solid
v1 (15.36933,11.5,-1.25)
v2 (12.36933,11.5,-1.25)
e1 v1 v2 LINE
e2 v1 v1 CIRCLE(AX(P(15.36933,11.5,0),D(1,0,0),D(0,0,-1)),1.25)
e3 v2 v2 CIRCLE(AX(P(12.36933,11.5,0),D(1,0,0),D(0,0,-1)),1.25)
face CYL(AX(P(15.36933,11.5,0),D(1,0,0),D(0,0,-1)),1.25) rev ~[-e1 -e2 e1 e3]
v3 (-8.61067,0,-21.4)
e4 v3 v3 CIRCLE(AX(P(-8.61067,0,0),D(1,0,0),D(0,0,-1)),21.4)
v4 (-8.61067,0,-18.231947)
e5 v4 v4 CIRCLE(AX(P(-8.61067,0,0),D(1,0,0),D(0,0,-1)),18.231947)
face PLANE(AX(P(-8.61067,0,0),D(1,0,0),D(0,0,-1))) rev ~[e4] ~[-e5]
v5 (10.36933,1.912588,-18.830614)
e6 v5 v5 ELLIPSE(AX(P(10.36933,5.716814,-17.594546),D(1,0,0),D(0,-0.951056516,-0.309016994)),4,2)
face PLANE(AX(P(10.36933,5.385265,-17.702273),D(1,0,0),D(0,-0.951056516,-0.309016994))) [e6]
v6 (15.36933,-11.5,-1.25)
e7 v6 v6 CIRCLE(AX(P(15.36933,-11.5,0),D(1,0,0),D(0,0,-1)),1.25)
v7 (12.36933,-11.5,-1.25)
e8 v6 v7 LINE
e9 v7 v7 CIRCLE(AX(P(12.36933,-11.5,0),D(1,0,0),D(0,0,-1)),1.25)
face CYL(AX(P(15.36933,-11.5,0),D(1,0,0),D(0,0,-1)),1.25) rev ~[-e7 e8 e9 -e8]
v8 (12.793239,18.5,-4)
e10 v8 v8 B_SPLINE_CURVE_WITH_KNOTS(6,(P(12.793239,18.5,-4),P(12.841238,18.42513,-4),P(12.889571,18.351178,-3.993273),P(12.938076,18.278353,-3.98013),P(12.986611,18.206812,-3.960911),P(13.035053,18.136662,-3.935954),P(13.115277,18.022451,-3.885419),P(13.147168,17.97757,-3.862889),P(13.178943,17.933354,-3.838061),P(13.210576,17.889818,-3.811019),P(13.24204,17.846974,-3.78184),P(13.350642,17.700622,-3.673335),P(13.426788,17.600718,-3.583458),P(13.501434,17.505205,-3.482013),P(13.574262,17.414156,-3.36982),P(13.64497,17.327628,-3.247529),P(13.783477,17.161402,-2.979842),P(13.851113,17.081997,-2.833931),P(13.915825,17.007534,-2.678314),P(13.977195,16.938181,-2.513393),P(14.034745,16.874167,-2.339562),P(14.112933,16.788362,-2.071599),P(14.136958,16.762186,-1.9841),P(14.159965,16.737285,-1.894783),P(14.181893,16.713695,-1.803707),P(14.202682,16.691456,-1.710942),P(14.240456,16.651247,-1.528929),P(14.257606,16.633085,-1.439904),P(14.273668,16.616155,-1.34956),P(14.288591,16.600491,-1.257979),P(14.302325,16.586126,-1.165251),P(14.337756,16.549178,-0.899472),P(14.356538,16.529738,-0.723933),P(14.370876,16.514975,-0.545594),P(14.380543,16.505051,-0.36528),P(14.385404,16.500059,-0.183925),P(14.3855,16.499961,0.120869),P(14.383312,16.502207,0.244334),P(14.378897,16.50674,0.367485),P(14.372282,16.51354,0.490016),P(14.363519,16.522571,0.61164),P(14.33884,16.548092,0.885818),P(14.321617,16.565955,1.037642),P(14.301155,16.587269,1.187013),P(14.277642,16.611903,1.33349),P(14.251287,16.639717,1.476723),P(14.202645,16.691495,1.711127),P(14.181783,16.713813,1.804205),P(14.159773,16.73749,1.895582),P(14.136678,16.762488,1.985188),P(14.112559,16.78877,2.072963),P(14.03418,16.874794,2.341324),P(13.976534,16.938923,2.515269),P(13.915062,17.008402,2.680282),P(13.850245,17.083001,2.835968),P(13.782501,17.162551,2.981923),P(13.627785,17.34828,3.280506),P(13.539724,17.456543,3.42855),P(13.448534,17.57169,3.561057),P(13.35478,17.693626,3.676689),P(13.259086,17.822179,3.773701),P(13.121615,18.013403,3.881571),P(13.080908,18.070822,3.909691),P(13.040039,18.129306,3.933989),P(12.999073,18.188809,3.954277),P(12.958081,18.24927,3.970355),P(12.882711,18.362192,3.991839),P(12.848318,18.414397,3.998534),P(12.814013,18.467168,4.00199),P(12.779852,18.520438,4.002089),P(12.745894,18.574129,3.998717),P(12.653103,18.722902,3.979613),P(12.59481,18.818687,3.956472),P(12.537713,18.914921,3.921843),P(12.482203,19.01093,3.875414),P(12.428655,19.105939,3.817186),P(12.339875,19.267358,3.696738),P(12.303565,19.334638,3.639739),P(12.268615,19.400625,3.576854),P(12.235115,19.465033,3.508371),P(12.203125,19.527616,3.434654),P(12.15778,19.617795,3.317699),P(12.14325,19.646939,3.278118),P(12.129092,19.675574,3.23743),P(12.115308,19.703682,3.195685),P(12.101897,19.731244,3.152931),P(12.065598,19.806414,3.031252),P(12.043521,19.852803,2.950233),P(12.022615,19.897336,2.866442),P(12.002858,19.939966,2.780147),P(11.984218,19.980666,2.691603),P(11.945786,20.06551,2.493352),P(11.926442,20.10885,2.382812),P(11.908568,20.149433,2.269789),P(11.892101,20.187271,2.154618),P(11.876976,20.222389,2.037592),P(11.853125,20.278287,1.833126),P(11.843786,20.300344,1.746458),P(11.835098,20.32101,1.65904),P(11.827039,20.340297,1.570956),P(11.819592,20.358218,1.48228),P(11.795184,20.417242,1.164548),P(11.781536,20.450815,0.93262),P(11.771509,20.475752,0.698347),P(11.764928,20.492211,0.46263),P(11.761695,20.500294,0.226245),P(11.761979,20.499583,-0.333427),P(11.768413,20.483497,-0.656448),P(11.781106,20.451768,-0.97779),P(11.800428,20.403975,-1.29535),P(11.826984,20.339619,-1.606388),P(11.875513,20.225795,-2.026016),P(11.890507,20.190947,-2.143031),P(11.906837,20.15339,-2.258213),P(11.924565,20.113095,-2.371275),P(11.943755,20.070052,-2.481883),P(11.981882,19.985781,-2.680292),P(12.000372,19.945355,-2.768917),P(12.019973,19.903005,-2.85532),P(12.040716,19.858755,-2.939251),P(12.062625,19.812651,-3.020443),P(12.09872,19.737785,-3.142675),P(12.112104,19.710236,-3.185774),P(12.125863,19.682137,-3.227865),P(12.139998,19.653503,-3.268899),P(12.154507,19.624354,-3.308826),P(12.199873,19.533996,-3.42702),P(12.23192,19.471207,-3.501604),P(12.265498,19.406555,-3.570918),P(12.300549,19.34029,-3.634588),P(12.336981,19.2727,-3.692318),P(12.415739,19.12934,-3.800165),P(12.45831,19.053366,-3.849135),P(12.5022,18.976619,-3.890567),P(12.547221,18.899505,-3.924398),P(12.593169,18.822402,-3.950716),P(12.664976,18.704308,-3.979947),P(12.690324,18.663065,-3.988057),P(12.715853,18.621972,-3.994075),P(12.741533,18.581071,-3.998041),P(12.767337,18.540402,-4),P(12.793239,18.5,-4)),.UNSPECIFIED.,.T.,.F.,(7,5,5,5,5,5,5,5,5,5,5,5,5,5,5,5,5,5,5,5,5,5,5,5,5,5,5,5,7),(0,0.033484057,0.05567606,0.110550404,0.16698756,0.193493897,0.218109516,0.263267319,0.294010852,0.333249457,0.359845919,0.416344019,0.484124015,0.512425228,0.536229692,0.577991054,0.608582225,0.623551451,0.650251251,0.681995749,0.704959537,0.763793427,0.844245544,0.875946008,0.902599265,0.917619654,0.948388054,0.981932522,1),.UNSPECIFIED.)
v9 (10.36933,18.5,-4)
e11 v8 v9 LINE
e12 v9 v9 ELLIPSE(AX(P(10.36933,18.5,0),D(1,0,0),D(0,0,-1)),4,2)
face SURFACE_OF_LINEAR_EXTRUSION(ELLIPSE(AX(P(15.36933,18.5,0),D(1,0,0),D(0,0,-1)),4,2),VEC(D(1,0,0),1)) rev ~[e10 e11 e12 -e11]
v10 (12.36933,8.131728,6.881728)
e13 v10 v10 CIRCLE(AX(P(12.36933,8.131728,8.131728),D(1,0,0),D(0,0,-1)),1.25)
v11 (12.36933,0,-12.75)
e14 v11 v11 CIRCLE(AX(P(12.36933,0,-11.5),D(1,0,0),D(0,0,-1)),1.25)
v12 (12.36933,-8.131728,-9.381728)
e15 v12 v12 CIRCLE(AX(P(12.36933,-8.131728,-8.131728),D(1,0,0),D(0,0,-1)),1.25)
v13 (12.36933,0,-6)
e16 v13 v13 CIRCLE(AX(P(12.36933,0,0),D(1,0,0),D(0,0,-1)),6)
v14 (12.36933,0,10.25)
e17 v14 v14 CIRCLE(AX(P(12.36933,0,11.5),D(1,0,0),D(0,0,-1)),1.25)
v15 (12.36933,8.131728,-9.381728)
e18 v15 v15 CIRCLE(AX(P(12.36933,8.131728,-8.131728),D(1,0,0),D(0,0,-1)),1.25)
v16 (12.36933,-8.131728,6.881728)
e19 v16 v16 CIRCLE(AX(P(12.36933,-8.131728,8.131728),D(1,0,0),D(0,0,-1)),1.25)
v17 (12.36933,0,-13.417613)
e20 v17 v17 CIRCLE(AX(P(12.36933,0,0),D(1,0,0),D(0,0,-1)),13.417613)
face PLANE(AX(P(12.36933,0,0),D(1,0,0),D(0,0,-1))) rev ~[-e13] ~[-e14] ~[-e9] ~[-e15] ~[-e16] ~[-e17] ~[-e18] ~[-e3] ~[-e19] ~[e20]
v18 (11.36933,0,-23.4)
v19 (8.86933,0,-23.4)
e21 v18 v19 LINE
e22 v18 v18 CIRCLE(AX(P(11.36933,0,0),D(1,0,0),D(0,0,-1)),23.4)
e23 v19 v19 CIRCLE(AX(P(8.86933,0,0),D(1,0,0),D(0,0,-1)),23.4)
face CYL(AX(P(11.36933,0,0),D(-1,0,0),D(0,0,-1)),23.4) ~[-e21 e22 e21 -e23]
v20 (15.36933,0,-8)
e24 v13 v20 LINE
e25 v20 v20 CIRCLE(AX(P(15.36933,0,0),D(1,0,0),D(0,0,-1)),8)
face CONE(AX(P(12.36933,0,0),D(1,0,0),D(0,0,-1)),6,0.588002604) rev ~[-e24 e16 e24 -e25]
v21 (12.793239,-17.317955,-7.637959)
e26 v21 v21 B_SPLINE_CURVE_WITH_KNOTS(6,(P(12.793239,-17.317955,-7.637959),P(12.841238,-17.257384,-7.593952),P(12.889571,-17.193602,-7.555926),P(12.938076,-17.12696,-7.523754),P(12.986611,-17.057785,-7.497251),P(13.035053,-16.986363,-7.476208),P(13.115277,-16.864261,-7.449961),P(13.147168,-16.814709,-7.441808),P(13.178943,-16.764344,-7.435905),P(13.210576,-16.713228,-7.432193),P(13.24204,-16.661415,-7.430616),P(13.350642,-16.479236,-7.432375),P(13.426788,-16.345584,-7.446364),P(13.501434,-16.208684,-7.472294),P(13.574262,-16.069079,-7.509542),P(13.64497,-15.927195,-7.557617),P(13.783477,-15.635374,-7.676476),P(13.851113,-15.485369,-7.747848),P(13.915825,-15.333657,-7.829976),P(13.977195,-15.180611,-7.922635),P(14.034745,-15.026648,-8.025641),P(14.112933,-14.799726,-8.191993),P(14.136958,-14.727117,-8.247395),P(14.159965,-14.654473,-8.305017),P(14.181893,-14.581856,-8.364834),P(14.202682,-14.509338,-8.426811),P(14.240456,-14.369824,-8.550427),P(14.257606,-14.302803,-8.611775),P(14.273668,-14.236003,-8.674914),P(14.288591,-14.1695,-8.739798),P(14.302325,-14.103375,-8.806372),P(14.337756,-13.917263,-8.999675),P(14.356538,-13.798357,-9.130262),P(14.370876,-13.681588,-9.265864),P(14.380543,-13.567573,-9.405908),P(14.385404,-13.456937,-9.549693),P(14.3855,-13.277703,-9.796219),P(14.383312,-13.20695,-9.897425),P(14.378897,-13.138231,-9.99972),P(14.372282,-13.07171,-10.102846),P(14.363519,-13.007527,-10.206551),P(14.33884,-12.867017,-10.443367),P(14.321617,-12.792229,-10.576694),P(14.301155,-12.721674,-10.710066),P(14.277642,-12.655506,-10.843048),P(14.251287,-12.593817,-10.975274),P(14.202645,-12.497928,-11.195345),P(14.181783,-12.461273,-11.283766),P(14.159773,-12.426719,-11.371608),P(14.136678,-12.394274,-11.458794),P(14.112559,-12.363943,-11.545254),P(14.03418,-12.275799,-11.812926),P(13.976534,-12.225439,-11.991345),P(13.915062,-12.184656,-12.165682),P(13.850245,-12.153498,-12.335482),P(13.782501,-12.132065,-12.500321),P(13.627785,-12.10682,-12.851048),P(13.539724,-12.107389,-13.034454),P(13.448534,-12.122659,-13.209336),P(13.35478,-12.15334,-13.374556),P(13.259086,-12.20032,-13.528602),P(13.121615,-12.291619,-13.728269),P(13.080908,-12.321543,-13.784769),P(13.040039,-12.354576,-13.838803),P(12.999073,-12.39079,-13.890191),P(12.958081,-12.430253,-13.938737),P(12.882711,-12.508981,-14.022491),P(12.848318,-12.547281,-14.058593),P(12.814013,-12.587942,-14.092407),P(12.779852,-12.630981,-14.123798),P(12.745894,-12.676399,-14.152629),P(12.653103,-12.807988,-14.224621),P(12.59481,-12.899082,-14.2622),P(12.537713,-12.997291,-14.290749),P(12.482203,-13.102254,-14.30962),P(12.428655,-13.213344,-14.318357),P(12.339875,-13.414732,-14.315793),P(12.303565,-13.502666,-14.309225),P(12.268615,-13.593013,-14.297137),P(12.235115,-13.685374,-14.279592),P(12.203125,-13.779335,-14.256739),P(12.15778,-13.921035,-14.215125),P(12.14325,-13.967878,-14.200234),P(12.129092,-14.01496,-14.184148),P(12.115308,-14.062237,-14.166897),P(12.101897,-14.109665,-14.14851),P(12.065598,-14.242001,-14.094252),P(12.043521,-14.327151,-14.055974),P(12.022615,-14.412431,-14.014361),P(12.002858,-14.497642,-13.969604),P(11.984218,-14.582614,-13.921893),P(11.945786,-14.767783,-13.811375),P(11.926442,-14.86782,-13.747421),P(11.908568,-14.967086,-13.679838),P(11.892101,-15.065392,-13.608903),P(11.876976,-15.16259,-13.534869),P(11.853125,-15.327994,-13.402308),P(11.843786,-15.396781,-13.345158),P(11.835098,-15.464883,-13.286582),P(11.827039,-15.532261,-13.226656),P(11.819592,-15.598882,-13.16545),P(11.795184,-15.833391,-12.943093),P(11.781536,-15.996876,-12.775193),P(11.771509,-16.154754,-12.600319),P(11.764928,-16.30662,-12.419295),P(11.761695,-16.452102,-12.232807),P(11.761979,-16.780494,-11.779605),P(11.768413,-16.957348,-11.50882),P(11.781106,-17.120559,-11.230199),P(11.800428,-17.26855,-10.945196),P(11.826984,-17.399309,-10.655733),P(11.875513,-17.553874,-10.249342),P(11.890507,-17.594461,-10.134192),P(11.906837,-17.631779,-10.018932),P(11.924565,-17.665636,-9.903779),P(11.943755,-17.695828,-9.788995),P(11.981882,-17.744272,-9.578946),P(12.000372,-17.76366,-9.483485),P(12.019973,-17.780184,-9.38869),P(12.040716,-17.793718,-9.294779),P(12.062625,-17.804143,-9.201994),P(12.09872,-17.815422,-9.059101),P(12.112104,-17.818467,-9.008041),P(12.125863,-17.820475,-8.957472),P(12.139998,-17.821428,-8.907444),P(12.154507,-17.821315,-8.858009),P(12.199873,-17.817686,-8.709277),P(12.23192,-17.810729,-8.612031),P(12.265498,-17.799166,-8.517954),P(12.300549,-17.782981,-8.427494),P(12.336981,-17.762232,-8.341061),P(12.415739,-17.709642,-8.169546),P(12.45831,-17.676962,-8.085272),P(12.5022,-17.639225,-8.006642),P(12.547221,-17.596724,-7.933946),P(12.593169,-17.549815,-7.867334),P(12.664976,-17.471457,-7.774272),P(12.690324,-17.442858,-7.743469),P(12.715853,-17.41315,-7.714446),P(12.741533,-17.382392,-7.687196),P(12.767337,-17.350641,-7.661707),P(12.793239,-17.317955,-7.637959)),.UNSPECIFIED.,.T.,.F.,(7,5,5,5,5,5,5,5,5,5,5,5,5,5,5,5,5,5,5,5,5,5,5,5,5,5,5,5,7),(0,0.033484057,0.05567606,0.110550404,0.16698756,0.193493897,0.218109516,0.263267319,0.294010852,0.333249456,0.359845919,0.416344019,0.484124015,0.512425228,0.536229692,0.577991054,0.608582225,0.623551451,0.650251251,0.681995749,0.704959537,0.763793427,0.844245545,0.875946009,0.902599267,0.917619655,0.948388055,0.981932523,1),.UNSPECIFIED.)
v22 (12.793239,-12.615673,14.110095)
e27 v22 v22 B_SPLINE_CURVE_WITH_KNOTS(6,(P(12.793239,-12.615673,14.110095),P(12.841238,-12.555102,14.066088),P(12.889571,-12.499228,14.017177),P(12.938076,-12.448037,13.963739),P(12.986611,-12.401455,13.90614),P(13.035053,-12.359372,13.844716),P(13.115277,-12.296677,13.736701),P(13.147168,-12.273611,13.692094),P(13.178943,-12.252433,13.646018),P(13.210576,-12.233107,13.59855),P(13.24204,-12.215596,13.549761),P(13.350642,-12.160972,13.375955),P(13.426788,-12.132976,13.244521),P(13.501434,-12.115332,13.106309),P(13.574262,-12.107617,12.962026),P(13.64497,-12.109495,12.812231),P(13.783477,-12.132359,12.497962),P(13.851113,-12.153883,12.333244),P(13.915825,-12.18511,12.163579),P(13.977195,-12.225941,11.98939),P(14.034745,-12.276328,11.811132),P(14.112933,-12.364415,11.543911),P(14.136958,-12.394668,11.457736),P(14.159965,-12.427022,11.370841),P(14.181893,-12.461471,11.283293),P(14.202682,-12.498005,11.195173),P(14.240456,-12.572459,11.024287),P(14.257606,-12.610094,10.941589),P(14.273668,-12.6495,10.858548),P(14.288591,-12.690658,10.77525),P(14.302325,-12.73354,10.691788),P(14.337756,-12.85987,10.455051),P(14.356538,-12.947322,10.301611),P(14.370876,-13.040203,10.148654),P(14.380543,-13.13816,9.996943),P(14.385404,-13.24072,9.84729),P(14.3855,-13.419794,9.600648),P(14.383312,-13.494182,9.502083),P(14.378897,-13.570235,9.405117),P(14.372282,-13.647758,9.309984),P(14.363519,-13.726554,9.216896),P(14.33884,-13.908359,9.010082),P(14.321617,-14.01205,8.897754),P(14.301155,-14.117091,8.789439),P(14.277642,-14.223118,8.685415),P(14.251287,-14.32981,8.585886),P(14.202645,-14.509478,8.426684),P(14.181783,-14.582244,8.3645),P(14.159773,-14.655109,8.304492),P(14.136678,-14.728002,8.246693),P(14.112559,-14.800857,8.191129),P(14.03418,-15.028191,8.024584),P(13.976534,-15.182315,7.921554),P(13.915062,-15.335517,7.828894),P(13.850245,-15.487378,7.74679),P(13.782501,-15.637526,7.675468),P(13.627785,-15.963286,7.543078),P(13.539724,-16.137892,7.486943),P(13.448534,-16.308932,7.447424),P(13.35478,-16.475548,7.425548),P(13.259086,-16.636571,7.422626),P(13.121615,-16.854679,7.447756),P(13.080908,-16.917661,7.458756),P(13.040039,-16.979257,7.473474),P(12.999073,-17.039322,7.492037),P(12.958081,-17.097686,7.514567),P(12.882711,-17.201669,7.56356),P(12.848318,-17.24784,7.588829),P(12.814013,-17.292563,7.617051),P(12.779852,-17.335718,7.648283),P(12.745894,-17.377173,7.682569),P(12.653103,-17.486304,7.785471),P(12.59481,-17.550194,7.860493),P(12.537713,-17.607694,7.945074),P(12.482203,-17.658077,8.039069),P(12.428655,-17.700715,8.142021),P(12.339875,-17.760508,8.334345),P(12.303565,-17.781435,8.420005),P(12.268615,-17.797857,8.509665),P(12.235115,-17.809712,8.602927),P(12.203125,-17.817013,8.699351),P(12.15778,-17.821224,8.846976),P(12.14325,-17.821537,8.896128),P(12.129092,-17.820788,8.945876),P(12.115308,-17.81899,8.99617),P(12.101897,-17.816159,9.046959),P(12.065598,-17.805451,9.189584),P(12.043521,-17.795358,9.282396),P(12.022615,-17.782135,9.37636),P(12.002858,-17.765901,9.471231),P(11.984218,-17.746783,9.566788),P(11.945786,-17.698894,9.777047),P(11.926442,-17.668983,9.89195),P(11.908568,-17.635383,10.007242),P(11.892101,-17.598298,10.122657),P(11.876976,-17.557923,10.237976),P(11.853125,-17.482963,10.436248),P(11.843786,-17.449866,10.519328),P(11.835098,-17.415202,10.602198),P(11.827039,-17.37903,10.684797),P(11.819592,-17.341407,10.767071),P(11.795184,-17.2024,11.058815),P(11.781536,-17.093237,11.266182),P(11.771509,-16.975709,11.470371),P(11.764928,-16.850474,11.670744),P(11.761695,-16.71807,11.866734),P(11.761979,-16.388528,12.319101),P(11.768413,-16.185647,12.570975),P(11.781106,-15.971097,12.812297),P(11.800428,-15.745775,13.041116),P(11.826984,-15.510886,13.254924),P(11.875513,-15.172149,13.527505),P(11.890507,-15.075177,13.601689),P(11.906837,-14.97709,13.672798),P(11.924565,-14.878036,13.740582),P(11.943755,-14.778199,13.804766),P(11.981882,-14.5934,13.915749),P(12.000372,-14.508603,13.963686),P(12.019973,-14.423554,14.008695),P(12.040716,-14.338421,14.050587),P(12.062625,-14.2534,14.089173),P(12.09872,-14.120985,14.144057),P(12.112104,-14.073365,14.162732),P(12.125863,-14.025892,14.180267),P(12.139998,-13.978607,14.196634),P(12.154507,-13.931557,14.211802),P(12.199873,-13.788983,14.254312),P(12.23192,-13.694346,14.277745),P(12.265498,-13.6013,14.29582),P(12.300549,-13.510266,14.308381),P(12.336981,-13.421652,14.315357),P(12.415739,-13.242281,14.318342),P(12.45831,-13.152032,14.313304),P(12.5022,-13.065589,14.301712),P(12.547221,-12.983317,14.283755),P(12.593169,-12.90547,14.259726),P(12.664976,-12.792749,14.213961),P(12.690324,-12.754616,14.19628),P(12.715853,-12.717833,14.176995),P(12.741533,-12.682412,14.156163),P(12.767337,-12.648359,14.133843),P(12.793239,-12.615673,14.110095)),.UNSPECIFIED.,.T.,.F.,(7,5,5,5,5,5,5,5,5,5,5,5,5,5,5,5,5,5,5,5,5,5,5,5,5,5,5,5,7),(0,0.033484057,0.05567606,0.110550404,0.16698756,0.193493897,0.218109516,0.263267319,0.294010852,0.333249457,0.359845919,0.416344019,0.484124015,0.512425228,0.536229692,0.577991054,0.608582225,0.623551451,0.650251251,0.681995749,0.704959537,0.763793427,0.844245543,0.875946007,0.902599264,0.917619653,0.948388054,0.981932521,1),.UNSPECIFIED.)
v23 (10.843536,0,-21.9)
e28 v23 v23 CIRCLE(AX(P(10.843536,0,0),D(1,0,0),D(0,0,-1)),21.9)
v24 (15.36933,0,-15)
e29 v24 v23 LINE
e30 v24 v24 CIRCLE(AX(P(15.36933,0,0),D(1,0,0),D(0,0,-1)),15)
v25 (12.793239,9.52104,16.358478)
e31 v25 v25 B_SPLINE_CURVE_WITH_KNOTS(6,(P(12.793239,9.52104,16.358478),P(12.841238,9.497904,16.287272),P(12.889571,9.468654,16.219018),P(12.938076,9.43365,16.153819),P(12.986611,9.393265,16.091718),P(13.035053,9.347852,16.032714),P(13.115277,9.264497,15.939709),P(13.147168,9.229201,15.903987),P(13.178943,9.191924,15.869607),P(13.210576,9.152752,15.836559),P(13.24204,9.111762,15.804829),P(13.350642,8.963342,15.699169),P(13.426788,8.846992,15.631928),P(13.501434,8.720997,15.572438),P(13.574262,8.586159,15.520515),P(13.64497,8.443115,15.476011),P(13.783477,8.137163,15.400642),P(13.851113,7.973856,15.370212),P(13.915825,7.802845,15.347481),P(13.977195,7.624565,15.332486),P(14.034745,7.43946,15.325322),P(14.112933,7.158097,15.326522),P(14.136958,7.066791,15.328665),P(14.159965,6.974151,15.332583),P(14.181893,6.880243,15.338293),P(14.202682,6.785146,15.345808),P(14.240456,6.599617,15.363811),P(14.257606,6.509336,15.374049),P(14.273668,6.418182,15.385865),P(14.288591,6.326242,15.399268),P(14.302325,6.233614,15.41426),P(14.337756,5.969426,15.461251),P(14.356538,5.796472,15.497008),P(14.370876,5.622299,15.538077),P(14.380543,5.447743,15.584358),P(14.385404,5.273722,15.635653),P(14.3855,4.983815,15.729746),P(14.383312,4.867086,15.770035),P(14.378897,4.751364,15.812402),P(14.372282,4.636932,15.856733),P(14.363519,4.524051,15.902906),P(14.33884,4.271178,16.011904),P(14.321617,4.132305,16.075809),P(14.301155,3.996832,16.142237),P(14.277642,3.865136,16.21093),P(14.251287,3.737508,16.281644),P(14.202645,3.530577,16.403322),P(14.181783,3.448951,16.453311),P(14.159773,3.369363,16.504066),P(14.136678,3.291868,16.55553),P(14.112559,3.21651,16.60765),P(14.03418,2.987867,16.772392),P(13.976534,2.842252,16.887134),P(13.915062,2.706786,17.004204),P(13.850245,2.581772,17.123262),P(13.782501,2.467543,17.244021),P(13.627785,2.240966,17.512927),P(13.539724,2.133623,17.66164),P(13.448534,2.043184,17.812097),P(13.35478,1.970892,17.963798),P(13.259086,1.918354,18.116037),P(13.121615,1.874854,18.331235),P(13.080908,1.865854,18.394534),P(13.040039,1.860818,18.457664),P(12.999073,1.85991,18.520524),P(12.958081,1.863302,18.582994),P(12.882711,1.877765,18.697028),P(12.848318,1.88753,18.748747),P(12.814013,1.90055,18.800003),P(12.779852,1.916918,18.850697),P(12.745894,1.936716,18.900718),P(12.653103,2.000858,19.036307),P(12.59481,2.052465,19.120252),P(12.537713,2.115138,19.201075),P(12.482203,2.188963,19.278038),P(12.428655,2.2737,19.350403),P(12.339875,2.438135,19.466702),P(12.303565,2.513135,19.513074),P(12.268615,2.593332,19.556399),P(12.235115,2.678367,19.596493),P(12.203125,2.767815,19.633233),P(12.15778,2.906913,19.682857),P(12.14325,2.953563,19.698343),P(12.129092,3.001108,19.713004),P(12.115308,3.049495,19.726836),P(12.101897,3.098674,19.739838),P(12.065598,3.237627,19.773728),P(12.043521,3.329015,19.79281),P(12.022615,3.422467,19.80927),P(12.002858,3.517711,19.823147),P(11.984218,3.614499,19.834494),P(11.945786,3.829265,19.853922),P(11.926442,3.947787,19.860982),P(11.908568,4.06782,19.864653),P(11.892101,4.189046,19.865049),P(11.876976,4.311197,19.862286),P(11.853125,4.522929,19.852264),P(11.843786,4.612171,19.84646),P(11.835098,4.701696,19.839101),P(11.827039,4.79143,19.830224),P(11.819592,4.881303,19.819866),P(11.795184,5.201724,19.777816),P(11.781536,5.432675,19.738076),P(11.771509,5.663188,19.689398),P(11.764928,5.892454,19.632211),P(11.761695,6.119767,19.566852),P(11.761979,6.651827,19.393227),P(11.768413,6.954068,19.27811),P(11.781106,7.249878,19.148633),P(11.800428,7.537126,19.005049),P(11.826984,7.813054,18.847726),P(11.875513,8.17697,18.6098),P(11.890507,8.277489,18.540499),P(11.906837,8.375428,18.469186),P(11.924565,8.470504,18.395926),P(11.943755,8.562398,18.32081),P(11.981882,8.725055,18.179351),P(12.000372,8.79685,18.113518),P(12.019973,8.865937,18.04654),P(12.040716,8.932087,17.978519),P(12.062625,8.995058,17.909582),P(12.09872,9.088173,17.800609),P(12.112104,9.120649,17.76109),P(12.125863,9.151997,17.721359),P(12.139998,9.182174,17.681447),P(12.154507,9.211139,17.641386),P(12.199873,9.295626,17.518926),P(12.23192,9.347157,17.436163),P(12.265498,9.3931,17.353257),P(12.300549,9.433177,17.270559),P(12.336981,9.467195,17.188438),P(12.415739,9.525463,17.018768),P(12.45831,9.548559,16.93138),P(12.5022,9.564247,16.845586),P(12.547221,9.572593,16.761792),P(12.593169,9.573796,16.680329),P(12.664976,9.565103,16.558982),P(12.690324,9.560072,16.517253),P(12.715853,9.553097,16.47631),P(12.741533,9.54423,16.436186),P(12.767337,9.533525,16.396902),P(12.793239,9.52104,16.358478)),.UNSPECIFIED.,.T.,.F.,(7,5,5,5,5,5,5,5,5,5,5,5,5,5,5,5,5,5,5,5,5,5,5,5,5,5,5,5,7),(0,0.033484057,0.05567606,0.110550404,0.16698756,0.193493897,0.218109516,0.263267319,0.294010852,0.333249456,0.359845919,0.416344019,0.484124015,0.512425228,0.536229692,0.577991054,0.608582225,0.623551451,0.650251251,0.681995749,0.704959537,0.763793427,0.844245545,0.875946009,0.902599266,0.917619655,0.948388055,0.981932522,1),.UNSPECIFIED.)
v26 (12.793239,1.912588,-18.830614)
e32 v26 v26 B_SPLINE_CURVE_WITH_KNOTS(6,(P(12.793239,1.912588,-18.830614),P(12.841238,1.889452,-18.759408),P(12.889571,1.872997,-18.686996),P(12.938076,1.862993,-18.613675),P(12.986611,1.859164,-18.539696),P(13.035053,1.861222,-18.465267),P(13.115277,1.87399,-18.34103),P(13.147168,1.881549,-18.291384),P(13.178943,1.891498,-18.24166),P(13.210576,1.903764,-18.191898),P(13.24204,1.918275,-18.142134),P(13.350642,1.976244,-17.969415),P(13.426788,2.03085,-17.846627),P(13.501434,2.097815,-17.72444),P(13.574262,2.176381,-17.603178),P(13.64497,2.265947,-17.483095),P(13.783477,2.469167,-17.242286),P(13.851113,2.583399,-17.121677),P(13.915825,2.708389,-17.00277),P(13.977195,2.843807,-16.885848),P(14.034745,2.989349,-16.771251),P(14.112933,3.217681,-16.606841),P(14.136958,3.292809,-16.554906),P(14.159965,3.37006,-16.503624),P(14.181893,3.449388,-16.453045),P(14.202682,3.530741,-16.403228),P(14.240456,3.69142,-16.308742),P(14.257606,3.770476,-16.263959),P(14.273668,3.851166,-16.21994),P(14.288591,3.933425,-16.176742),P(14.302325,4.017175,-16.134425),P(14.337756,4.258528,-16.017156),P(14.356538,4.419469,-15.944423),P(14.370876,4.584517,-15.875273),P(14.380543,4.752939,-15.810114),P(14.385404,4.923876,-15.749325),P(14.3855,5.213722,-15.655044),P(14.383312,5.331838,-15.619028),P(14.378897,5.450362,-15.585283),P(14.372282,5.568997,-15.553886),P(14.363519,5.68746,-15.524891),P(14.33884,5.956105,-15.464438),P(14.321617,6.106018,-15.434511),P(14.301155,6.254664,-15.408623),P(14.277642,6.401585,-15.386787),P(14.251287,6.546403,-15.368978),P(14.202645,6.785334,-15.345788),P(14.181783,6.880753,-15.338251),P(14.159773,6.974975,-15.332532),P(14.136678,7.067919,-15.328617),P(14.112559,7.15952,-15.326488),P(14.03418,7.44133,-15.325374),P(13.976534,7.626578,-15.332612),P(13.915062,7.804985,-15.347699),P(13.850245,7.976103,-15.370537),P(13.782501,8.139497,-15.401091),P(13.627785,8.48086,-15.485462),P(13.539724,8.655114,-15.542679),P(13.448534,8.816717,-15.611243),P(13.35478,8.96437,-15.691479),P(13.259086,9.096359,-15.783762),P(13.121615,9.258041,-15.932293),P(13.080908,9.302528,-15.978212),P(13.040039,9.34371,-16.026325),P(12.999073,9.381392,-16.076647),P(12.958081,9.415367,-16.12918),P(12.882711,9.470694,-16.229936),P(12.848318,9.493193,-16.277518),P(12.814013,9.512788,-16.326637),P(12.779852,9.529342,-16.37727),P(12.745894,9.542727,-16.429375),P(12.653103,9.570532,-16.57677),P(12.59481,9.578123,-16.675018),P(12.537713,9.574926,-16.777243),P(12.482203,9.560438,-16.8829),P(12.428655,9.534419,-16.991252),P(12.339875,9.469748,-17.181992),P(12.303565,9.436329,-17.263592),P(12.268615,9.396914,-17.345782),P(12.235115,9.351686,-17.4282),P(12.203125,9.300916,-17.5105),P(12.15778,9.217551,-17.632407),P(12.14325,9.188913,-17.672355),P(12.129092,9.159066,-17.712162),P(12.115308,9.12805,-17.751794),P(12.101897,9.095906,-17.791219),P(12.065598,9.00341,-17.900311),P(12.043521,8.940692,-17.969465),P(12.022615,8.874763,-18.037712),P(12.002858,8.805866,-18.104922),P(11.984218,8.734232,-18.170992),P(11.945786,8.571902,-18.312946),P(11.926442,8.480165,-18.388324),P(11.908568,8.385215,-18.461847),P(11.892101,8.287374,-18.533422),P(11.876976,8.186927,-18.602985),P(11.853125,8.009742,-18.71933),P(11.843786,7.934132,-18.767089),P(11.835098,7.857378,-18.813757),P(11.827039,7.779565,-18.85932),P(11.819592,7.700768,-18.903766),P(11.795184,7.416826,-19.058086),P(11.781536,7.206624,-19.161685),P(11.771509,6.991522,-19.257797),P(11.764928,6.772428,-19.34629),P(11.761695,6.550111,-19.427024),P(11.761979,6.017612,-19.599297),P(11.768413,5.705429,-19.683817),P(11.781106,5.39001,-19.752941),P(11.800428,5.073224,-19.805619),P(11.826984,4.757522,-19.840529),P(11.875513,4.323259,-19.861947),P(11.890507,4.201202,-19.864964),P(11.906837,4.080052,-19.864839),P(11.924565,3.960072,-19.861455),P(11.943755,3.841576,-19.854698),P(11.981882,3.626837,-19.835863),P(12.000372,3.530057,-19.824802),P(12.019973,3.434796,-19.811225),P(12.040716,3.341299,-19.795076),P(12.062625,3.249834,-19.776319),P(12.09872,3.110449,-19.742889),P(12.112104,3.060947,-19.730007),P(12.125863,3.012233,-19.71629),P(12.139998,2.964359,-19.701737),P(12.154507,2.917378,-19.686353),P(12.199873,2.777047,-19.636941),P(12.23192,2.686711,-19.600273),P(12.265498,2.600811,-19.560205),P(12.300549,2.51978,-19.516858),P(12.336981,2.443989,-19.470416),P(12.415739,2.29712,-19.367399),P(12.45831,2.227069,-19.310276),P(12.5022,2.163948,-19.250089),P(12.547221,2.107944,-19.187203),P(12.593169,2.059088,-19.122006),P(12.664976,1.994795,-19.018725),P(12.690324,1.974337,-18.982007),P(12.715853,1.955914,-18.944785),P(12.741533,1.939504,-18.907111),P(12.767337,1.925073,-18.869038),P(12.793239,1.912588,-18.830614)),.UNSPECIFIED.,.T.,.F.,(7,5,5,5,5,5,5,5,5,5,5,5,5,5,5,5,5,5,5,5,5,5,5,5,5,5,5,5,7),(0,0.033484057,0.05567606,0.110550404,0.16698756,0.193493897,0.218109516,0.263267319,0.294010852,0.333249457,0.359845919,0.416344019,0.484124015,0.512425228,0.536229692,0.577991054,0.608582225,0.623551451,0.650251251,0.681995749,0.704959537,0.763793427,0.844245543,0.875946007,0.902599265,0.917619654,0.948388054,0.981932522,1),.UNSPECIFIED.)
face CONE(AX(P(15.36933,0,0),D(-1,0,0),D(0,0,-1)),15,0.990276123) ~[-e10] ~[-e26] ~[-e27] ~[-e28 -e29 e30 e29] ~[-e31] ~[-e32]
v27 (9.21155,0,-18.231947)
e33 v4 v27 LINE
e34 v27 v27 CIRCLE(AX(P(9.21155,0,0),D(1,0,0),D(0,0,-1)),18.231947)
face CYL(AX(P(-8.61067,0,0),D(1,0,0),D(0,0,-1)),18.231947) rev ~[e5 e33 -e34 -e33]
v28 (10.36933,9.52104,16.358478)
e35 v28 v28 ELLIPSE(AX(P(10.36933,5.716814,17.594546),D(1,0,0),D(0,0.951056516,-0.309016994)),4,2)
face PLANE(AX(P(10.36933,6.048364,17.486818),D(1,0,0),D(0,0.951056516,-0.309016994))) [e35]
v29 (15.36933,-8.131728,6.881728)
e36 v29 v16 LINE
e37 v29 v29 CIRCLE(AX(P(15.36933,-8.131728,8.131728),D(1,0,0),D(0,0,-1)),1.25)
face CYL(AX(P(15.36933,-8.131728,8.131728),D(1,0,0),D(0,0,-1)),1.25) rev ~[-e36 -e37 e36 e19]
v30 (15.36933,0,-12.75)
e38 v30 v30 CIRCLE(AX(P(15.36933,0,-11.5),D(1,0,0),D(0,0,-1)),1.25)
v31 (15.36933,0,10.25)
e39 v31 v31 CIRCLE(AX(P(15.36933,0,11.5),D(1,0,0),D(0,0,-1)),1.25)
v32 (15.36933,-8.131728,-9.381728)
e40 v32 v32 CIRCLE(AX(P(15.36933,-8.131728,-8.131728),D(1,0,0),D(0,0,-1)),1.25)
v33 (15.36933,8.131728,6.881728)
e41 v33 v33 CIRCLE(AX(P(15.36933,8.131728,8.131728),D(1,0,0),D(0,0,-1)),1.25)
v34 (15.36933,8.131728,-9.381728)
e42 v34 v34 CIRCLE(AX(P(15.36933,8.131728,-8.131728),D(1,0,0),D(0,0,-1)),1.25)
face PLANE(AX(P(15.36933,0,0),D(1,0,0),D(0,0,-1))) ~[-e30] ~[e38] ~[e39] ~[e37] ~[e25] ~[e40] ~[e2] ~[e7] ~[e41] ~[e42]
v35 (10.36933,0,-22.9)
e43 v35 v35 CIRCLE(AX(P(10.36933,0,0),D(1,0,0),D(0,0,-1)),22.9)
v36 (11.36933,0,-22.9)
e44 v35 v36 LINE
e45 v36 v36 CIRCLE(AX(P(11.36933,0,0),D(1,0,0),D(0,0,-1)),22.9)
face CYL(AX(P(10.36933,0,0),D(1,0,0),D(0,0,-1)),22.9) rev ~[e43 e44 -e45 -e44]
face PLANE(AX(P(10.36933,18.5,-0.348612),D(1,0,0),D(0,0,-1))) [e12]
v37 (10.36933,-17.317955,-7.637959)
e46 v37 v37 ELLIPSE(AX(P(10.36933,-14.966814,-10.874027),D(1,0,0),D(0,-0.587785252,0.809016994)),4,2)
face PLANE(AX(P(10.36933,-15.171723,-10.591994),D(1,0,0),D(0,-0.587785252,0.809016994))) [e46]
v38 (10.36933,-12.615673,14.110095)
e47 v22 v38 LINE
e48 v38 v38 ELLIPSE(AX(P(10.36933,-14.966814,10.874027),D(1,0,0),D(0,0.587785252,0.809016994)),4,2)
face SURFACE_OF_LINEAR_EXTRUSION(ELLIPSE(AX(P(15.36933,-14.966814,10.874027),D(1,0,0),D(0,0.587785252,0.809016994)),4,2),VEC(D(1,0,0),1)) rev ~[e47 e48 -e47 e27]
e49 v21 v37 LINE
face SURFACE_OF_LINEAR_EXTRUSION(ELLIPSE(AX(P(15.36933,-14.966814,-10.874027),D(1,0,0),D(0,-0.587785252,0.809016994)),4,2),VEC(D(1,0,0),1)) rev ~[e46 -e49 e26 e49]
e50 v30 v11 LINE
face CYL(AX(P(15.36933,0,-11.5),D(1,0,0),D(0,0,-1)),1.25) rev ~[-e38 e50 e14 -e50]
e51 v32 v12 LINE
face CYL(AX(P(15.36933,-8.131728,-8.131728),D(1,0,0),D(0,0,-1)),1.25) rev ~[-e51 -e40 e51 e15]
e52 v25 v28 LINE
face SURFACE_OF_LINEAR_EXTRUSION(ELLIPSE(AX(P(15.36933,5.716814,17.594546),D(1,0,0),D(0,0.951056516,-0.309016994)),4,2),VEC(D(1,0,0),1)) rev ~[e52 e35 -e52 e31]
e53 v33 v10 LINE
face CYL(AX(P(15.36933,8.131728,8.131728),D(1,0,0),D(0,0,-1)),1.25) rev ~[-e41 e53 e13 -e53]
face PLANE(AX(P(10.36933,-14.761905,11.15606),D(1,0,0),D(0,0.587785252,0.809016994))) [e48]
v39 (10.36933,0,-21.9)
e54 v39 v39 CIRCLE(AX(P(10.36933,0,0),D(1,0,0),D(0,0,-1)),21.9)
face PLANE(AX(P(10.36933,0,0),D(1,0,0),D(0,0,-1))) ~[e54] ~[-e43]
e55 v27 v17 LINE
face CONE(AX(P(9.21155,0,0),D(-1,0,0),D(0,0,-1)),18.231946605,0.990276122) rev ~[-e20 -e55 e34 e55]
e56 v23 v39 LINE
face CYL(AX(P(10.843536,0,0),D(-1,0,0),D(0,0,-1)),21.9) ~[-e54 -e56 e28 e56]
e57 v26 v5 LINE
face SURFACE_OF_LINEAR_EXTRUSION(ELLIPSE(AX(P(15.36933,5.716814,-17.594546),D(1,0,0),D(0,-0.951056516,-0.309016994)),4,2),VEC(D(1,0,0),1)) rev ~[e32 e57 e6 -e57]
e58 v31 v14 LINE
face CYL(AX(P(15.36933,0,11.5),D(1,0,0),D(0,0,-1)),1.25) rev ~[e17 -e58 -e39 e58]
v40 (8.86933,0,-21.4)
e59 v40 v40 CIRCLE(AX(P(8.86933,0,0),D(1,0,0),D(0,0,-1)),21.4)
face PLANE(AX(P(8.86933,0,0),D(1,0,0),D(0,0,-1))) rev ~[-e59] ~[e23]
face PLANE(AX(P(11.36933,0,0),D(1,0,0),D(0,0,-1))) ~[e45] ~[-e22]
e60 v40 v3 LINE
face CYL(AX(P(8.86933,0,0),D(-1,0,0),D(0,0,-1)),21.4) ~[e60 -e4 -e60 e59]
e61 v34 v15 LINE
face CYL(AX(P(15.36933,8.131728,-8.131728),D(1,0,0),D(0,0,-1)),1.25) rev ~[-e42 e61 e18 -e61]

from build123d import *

# Parameters (mm, degrees)
SKETCH4_R          = 1.25
SKETCH4_RX         = 4
SKETCH4_RY         = 2
CUT_EXTRUDE1_DEPTH = 5


with BuildPart() as part:
    # Sketch3 → Revolve1 (revolve)
    with BuildSketch(Plane(origin=(0, 0, 0), x_dir=(1, 0, 0), z_dir=(0, 1, 0))):
        Polygon((10.36932978, 23.4), (8.86932978, 23.4), (8.86932978, 21.4), (-8.61067022, 21.4), (-8.61067022, 18.231946605), (9.211549898, 18.231946605), (12.36932978, 13.417613419), (12.36932978, 6), (15.36932978, 8), (15.36932978, 15), (10.843535586, 21.9), (10.36932978, 21.9), (10.36932978, 22.9), (11.36932978, 22.9), (11.36932978, 23.4), align=None)
    revolve(axis=Axis((-29.774212385, 0, 0), (1, 0, 0)))

    # Sketch4 → Cut-Extrude1 (cut)
    with BuildSketch(Plane(origin=(15.36932978, 0, 0), x_dir=(0, 0, -1), z_dir=(1, 0, 0))):
        with Locations((0, 11.5)):
            Circle(SKETCH4_R)
        with Locations((8.131727984, 8.131727984)):
            Circle(SKETCH4_R)
        with Locations((11.5, 0)):
            Circle(SKETCH4_R)
        with Locations((8.131727984, -8.131727984)):
            Circle(SKETCH4_R)
        with Locations((0, -11.5)):
            Circle(SKETCH4_R)
        with Locations((-8.131727984, -8.131727984)):
            Circle(SKETCH4_R)
        with Locations((-11.5, 0)):
            Circle(SKETCH4_R)
        with Locations((-8.131727984, 8.131727984)):
            Circle(SKETCH4_R)
        with Locations((0, 18.5)):
            Ellipse(SKETCH4_RX, SKETCH4_RY)
        with Locations(Location((17.594545551, 5.716814396), (0, 0, -72))):
            Ellipse(SKETCH4_RX, SKETCH4_RY)
        with Locations(Location((10.874027167, -14.966814396), (0, 0, -144))):
            Ellipse(SKETCH4_RX, SKETCH4_RY)
        with Locations(Location((-10.874027167, -14.966814396), (0, 0, 144))):
            Ellipse(SKETCH4_RX, SKETCH4_RY)
        with Locations(Location((-17.594545551, 5.716814396), (0, 0, 72))):
            Ellipse(SKETCH4_RX, SKETCH4_RY)
    extrude(amount=-CUT_EXTRUDE1_DEPTH, mode=Mode.SUBTRACT)


solid = part.part
